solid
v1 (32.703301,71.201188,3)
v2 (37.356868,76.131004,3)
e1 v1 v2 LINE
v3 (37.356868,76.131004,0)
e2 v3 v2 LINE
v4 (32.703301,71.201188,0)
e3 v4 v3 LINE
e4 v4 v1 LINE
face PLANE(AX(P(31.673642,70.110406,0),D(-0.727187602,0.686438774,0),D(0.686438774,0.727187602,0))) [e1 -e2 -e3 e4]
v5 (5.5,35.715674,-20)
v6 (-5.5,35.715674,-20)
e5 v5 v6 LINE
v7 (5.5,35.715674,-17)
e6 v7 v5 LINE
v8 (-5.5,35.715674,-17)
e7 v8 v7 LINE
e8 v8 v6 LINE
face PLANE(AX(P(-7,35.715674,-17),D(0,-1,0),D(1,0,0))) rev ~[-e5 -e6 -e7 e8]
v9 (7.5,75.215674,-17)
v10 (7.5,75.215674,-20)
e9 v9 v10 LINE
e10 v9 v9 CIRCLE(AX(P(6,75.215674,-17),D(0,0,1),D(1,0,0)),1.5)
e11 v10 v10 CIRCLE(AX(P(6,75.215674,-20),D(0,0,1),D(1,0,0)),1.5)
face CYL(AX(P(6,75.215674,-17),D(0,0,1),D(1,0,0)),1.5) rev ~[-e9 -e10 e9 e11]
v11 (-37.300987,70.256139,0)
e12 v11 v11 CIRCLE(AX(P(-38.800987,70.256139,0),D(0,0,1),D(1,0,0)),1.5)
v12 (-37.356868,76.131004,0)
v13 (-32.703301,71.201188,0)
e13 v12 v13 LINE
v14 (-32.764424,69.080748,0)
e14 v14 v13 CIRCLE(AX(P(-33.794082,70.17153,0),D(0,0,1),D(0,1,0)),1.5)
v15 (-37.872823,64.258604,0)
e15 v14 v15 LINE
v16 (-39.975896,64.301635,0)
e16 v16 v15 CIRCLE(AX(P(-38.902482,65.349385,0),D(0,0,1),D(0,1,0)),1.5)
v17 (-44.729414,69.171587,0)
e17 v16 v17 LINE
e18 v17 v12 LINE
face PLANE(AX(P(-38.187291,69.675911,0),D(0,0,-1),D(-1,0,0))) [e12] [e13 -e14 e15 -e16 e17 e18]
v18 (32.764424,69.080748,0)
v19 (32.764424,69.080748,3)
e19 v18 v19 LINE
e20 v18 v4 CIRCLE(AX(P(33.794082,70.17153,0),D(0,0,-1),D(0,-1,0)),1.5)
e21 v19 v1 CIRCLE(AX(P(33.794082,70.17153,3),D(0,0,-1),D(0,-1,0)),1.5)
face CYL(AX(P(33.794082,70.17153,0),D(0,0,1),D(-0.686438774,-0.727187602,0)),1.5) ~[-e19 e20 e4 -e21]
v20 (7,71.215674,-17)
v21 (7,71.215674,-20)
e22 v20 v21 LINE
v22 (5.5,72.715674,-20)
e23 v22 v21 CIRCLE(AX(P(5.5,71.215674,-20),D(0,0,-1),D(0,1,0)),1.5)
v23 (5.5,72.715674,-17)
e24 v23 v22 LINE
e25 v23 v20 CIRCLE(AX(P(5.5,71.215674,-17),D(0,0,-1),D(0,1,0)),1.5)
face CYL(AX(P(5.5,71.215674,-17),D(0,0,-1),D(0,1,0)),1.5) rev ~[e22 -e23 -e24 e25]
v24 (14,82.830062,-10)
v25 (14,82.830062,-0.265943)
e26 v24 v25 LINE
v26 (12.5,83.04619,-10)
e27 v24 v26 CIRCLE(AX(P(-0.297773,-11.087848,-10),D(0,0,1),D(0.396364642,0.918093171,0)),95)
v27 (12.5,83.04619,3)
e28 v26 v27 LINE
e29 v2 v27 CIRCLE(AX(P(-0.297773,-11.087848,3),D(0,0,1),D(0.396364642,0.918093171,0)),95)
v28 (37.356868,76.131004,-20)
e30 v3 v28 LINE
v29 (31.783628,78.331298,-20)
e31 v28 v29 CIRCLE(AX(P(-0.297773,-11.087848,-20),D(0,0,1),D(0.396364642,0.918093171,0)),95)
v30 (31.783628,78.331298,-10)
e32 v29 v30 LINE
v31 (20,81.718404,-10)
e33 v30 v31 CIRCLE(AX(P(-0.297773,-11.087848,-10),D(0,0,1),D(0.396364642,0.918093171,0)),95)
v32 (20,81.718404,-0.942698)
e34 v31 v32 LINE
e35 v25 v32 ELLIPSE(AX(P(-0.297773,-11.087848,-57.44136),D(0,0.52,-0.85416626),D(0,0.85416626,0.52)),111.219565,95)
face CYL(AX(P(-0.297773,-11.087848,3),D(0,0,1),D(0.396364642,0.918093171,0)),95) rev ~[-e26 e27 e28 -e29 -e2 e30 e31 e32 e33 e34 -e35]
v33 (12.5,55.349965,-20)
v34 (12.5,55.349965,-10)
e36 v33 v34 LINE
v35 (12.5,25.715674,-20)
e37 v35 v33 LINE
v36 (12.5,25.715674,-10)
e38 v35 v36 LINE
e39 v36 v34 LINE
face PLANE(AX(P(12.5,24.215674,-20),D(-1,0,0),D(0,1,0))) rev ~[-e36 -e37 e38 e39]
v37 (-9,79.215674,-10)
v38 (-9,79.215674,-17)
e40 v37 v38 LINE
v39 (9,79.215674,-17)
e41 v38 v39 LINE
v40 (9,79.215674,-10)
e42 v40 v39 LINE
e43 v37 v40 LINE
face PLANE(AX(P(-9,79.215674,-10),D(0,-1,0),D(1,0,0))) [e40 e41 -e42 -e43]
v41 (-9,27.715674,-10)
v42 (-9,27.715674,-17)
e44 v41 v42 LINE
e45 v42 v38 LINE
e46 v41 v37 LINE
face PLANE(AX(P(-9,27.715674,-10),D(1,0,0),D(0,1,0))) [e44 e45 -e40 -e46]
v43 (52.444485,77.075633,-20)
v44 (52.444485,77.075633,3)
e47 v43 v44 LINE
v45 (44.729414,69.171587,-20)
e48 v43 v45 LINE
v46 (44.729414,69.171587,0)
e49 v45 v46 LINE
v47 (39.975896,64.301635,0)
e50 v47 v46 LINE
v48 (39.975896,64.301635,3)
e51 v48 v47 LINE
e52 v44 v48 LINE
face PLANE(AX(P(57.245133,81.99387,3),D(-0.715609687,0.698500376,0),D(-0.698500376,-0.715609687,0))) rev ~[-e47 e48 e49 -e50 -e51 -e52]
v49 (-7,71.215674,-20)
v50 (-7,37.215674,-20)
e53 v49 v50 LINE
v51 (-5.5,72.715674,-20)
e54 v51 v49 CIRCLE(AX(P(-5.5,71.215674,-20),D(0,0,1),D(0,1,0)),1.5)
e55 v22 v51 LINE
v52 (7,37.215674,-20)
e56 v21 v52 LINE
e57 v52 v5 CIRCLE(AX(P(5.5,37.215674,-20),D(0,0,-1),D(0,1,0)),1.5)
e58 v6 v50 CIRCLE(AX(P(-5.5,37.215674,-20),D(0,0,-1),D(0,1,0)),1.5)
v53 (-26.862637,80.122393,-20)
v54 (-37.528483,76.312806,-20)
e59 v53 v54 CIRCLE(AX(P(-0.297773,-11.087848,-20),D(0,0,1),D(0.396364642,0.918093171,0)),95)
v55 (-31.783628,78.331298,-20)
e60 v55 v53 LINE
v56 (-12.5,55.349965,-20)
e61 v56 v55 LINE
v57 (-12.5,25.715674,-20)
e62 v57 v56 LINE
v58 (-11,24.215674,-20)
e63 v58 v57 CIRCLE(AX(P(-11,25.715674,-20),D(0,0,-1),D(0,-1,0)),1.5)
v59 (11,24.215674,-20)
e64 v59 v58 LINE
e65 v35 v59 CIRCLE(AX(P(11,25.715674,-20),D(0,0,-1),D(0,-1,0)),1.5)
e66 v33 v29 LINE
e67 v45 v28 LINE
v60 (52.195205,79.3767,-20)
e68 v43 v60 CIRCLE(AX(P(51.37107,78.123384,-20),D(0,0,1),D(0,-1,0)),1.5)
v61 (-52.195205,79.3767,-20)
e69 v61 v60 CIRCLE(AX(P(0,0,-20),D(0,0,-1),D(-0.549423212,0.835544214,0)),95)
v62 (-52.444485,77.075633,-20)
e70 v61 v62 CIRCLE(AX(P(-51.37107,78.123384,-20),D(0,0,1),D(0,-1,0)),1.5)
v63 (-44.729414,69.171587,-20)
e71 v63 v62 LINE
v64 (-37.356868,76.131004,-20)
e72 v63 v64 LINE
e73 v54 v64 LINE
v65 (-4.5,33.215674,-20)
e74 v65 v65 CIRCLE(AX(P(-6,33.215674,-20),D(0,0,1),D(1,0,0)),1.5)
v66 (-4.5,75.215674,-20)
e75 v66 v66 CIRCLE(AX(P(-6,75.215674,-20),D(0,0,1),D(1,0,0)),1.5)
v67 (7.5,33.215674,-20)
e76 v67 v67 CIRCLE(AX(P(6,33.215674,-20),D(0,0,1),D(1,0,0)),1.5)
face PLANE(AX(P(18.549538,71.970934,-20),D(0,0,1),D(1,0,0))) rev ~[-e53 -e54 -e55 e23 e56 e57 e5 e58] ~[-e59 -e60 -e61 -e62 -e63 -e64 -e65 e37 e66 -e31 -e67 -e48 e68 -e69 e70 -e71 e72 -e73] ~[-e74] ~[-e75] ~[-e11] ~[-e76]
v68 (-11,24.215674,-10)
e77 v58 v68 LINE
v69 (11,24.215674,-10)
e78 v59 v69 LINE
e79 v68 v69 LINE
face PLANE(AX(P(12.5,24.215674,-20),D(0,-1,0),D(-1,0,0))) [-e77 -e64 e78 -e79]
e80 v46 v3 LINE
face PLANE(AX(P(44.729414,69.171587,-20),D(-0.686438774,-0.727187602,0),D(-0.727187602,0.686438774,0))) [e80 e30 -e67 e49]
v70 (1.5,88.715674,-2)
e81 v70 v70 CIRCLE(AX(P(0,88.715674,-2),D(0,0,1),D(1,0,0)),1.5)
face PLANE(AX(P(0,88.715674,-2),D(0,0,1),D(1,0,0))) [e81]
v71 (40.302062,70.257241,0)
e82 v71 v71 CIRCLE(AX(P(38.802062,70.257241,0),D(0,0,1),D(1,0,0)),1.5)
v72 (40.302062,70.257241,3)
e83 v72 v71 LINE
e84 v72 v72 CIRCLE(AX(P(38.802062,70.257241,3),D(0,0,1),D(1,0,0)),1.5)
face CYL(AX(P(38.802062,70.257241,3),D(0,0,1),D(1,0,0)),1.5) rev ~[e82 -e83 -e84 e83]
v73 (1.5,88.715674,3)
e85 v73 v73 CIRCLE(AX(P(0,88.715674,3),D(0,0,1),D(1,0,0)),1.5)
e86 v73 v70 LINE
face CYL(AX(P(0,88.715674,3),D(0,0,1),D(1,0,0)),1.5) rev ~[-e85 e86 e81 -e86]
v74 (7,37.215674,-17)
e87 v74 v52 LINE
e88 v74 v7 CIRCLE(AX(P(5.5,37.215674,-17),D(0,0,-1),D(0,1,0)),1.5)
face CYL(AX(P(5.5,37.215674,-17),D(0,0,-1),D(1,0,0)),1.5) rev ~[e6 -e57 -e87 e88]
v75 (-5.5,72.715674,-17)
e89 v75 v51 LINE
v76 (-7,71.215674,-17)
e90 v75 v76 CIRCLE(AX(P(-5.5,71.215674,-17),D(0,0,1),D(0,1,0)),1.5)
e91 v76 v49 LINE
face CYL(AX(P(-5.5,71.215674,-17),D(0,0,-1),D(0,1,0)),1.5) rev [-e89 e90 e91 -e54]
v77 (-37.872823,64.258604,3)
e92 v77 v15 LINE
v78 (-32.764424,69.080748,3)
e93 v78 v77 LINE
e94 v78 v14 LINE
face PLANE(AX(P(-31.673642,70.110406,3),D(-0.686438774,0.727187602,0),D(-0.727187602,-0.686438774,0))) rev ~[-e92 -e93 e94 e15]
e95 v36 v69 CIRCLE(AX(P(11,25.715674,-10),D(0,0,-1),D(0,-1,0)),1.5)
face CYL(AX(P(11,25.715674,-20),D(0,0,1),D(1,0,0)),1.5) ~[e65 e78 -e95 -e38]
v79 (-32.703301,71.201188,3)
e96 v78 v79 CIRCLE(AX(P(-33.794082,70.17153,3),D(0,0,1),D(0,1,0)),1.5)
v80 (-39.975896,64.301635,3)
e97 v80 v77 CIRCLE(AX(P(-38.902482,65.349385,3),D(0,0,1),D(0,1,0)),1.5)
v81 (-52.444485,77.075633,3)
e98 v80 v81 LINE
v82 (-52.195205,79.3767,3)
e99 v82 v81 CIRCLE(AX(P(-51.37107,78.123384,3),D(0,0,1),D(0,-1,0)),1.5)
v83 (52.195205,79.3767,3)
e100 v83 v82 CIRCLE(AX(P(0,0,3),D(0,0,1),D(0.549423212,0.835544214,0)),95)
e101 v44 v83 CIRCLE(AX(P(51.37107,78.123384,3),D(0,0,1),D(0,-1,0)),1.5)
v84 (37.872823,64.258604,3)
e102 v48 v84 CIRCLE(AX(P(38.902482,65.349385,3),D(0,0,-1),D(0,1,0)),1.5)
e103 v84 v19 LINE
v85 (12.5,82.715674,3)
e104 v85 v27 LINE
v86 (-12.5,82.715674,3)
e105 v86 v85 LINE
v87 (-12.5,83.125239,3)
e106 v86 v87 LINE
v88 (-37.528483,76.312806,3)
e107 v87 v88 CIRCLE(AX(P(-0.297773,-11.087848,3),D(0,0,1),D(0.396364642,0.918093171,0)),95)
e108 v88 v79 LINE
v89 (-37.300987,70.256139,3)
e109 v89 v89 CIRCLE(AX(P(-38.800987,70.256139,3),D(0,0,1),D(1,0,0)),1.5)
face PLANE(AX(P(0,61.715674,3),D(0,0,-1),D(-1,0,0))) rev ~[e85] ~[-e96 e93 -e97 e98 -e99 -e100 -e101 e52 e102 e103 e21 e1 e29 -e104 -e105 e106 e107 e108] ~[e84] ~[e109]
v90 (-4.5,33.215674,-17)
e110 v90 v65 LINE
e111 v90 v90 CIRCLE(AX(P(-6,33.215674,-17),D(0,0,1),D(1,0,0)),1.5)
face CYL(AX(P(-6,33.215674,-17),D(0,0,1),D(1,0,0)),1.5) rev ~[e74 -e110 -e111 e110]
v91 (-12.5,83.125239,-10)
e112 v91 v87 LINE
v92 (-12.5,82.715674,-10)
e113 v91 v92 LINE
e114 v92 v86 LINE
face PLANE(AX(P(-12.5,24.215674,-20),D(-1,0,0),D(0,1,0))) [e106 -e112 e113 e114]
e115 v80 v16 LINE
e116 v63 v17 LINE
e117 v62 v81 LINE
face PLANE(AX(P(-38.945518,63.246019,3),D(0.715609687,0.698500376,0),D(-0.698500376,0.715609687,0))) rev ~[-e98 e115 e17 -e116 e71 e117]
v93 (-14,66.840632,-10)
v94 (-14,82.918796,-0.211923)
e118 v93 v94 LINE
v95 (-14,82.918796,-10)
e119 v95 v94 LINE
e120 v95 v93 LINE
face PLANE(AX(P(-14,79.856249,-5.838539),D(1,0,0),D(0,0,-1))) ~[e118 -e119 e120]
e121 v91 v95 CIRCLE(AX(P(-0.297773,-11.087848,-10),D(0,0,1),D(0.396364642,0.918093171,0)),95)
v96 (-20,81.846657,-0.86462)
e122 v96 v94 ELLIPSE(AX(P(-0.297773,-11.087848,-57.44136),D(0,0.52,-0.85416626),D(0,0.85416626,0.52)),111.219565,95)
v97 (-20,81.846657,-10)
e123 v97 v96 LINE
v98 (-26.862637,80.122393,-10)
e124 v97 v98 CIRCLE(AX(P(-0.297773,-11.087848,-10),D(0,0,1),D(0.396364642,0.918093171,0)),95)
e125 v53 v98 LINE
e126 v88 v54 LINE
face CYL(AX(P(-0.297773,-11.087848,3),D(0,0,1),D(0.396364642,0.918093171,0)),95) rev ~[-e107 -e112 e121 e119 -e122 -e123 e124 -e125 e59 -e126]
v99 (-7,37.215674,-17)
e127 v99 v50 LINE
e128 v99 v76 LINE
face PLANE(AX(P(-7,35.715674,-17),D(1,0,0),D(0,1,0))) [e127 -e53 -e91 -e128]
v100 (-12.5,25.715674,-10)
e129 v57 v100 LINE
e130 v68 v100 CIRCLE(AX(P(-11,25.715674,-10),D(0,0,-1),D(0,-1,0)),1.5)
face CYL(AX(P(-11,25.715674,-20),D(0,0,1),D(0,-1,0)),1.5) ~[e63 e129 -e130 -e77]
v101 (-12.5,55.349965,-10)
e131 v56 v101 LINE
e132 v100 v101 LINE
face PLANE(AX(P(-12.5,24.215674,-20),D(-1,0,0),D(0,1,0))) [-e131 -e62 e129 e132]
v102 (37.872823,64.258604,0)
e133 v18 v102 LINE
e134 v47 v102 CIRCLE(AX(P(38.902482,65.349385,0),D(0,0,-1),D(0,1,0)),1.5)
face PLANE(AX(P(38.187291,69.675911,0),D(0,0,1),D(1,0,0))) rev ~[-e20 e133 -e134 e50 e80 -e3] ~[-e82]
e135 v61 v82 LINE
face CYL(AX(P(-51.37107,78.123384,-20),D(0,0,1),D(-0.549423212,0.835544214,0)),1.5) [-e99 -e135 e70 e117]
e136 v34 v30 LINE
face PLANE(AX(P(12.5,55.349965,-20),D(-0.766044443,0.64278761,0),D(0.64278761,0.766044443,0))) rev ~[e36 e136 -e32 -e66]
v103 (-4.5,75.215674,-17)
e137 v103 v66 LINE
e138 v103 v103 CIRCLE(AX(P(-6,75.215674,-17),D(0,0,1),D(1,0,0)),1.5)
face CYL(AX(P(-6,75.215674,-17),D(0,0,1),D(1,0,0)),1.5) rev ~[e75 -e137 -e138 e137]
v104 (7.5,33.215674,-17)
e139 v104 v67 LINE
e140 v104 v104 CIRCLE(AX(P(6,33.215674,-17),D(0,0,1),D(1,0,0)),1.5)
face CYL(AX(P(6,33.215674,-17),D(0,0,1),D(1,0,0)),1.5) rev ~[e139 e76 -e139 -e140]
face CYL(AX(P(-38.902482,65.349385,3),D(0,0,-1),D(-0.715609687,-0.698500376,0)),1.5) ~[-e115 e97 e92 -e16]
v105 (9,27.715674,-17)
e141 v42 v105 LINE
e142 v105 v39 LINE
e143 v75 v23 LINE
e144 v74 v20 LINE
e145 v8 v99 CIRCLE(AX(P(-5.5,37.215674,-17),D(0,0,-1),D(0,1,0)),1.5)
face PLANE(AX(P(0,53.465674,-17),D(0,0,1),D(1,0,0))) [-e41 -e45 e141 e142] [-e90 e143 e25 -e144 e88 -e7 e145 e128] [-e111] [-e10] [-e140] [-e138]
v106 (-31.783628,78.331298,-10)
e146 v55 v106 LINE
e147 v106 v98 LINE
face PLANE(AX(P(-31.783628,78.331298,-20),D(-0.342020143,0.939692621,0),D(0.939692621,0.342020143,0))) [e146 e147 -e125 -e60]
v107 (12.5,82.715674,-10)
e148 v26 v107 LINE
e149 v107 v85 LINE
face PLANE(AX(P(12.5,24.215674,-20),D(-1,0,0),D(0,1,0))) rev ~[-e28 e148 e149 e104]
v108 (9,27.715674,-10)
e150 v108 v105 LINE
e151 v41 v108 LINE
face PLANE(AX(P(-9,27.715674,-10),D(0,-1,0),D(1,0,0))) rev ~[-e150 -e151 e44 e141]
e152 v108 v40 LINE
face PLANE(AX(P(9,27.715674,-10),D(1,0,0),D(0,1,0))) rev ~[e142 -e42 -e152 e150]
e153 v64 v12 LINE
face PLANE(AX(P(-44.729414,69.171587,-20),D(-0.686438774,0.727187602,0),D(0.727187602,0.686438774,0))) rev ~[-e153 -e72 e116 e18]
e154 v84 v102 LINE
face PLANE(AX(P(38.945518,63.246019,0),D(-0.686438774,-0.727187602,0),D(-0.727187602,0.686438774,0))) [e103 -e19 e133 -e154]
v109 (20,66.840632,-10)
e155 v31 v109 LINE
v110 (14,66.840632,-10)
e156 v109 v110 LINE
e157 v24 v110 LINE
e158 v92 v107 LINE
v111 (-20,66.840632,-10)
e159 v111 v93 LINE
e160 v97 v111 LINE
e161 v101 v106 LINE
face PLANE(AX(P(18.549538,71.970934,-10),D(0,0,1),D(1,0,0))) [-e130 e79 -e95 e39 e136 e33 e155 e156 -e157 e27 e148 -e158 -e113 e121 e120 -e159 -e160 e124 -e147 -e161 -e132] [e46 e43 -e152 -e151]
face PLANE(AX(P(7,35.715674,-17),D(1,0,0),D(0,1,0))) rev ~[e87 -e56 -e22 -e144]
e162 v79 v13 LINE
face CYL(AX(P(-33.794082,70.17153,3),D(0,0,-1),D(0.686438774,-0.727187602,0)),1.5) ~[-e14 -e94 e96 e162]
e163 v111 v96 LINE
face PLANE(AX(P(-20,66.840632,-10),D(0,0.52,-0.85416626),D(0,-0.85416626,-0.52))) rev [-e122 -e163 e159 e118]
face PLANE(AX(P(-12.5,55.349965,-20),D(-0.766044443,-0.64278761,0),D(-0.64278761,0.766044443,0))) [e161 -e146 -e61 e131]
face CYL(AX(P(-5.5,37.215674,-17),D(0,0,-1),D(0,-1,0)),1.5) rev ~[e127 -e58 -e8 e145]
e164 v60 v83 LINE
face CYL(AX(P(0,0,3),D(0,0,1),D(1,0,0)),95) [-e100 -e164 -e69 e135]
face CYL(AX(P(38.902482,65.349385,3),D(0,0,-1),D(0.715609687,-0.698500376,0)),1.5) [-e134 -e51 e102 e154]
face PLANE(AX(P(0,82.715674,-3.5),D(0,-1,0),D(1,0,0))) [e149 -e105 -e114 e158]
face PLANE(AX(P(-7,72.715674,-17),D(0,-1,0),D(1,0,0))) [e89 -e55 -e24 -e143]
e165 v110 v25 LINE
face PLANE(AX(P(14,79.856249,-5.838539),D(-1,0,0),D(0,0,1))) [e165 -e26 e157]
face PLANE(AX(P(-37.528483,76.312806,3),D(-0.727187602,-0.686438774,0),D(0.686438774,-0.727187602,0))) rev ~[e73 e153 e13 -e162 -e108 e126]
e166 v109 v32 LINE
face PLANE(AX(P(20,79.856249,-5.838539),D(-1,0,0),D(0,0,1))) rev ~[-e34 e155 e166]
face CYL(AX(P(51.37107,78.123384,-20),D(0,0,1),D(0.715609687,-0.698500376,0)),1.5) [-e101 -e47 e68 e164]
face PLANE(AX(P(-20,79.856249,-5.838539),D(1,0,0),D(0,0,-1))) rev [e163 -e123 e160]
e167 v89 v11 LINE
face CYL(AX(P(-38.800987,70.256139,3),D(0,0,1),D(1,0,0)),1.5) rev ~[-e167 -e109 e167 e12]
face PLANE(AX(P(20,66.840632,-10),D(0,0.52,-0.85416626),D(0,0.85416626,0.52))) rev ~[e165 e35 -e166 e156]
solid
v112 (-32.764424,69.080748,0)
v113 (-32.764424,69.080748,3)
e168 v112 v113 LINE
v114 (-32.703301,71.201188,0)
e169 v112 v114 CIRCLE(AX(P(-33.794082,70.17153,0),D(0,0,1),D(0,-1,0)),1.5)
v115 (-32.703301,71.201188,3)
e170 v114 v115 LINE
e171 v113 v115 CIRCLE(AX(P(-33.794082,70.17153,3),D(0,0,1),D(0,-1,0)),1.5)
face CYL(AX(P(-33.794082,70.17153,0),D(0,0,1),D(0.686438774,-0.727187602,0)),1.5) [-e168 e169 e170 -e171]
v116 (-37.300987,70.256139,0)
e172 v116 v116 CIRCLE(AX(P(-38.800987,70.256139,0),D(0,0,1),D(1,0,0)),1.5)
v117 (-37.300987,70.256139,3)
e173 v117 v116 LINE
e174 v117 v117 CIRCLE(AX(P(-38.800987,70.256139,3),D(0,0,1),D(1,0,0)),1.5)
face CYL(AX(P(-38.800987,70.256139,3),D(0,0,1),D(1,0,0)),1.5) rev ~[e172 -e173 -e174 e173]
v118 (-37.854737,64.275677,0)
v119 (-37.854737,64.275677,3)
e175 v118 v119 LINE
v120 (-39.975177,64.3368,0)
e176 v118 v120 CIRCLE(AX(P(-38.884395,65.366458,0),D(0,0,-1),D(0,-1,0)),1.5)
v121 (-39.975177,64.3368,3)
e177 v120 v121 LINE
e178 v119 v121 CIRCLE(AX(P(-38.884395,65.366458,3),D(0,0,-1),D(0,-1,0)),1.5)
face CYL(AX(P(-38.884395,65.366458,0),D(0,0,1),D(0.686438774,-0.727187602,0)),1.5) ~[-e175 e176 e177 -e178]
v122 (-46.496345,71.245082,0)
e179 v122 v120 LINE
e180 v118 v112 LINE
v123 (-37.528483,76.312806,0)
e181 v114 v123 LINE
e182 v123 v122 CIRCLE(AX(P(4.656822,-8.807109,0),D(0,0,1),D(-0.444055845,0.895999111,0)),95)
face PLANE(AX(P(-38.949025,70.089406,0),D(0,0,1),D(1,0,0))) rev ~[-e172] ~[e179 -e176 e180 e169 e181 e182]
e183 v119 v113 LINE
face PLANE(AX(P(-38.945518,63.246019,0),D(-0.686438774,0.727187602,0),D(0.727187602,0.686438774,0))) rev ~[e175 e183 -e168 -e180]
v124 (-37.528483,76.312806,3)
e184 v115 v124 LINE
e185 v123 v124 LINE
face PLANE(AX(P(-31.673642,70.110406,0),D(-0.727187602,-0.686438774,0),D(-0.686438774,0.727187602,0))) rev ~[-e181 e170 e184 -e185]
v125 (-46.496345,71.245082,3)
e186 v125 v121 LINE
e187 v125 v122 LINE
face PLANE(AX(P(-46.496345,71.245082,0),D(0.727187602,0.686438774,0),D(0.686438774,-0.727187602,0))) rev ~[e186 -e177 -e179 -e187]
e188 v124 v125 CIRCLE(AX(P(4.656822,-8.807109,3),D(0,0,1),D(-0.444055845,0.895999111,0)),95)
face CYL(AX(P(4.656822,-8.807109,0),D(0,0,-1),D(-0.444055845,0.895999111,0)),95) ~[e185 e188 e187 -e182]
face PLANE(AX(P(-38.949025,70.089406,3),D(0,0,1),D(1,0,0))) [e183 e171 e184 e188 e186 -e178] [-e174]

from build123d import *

# Parameters (mm, degrees)
CROQUIS1_R              = 100
SALIENTE_EXTRUIR1_DEPTH = 3
CROQUIS3_R              = 110
CORTAR_EXTRUIR1_DEPTH   = 3
REDONDEO1_R             = 10
CORTAR_EXTRUIR6_DEPTH   = 10
CROQUIS12_R             = 1.5
CORTAR_EXTRUIR7_DEPTH   = 142.453172607
CROQUIS9_R              = 1.5
CROQUIS9_W              = 4.5
CROQUIS9_H              = 8
CROQUIS9_W_2            = 8
CROQUIS9_H_2            = 4.5
CORTAR_EXTRUIR5_DEPTH   = 10
CORTAR_EXTRUIR9_DEPTH   = 142.453172607
SALIENTE_EXTRUIR3_DEPTH = 3
SALIENTE_EXTRUIR4_DEPTH = 23
CROQUIS23_W             = 25
CROQUIS23_H             = 75
SALIENTE_EXTRUIR5_DEPTH = 23
CROQUIS24_W             = 25
CROQUIS24_H             = 13
CORTAR_EXTRUIR10_DEPTH  = 58.5
CORTAR_EXTRUIR11_DEPTH  = 20
CROQUIS27_W             = 18
CROQUIS27_H             = 51.5
CORTAR_EXTRUIR12_DEPTH  = 7
CROQUIS28_R             = 1.5
CROQUIS28_W             = 14
CROQUIS28_H             = 37
CORTAR_EXTRUIR13_DEPTH  = 7
CROQUIS30_R             = 1.5
CORTAR_EXTRUIR14_DEPTH  = 5
REDONDEO2_R             = 1.5
REDONDEO3_R             = 1.5
REDONDEO4_R             = 1.5
CROQUIS33_R             = 100
CROQUIS33_R_2           = 95
CORTAR_EXTRUIR15_DEPTH  = 118.101726702
REDONDEO5_R             = 1.5
SALIENTE_EXTRUIR6_DEPTH = 10
SALIENTE_EXTRUIR7_DEPTH = 6


with BuildPart() as part:
    # Croquis1 → Saliente-Extruir1 (new body)
    with BuildSketch(Plane.XY):
        Circle(CROQUIS1_R)
    extrude(amount=SALIENTE_EXTRUIR1_DEPTH)

    # Croquis3 → Cortar-Extruir1 (cut)
    with BuildSketch(Plane.XY.offset(3)):
        with Locations((190, 0)):
            Circle(CROQUIS3_R)
    extrude(amount=-CORTAR_EXTRUIR1_DEPTH, mode=Mode.SUBTRACT)

    # Redondeo1
    redondeo1_edges = [part.edges().sort_by_distance(p)[0] for p in [
        (89.473684211, -44.659375654, 1.5),
        (89.473684211, 44.659375654, 1.5),
    ]]
    fillet(redondeo1_edges, radius=REDONDEO1_R)

    # Croquis5 → Cortar-Extruir6 (cut)
    with BuildSketch(Plane.XY.offset(3)):
        Polygon((-58.336309448, -83.085046789), (-83.085046789, -58.336309448), (-65.40737726, -40.658639918), (-40.658639918, -65.40737726), align=None)
        Polygon((-83.085046789, 58.336309448), (-58.336309448, 83.085046789), (-40.658639918, 65.40737726), (-65.40737726, 40.658639918), align=None)
        Polygon((58.336309448, -83.085046789), (83.085046789, -58.336309448), (65.40737726, -40.658639918), (40.658639918, -65.40737726), align=None)
        Polygon((58.336309448, 83.085046789), (83.085046789, 58.336309448), (65.40737726, 40.658639918), (40.658639918, 65.40737726), align=None)
    extrude(amount=-CORTAR_EXTRUIR6_DEPTH, mode=Mode.SUBTRACT)

    # Croquis12 → Cortar-Extruir7 (cut, through all)
    with BuildSketch(Plane.XY.offset(3)):
        with Locations((-63.604254904, -36.804908024)):
            Circle(CROQUIS12_R)
        with Locations((-36.804907897, -63.604255031)):
            Circle(CROQUIS12_R)
        with Locations((-47.666068056, -20.866721176)):
            Circle(CROQUIS12_R)
        with Locations((-20.866721049, -47.666068183)):
            Circle(CROQUIS12_R)
        with Locations(Location((47.666068183, 20.866721049, 0), (0, 0, 180))):
            Circle(CROQUIS12_R)
        with Locations(Location((20.866721176, 47.666068056, 0), (0, 0, 180))):
            Circle(CROQUIS12_R)
        with Locations(Location((63.604255031, 36.804907897, 0), (0, 0, 180))):
            Circle(CROQUIS12_R)
        with Locations(Location((36.804908024, 63.604254904, 0), (0, 0, 180))):
            Circle(CROQUIS12_R)
        with Locations((20.866721325, -47.666067908)):
            Circle(CROQUIS12_R)
        with Locations((47.666068332, -20.866720901)):
            Circle(CROQUIS12_R)
        with Locations((63.60425518, -36.804907749)):
            Circle(CROQUIS12_R)
        with Locations((36.804908173, -63.604254756)):
            Circle(CROQUIS12_R)
        with Locations(Location((-63.604254756, 36.804908173, 0), (0, 0, 180))):
            Circle(CROQUIS12_R)
        with Locations(Location((-36.804907749, 63.60425518, 0), (0, 0, 180))):
            Circle(CROQUIS12_R)
        with Locations(Location((-20.866720901, 47.666068332, 0), (0, 0, 180))):
            Circle(CROQUIS12_R)
        with Locations(Location((-47.666067908, 20.866721325, 0), (0, 0, 180))):
            Circle(CROQUIS12_R)
    extrude(amount=-CORTAR_EXTRUIR7_DEPTH, mode=Mode.SUBTRACT)

    # Croquis9 → Cortar-Extruir5 (cut)
    with BuildSketch(Plane.XY.offset(3)):
        with Locations((71.9, -4)):
            Circle(CROQUIS9_R)
        with Locations((35.959143483, 4)):
            Circle(CROQUIS9_R)
        with Locations((71.959143483, 4)):
            Circle(CROQUIS9_R)
        with Locations((35.9, -4)):
            Circle(CROQUIS9_R)
        with Locations((-91.190074744, 4)):
            Circle(CROQUIS9_R)
        with Locations((-91.190074744, -4)):
            Circle(CROQUIS9_R)
        with Locations((-55.190074744, 4)):
            Circle(CROQUIS9_R)
        with Locations((-55.190074744, -4)):
            Circle(CROQUIS9_R)
        with Locations((-4, 85)):
            Circle(CROQUIS9_R)
        with Locations((4, 85)):
            Circle(CROQUIS9_R)
        with Locations((-4, 49)):
            Circle(CROQUIS9_R)
        with Locations((4, 49)):
            Circle(CROQUIS9_R)
        with Locations((-4, -49)):
            Circle(CROQUIS9_R)
        with Locations((4, -49)):
            Circle(CROQUIS9_R)
        with Locations((4, -85)):
            Circle(CROQUIS9_R)
        with Locations((-4, -85)):
            Circle(CROQUIS9_R)
        with Locations((41.209143483, 0)):
            Rectangle(CROQUIS9_W, CROQUIS9_H)
        with Locations((0, -54.25)):
            Rectangle(CROQUIS9_W_2, CROQUIS9_H_2)
        with Locations((-60.440074744, 0)):
            Rectangle(CROQUIS9_W, CROQUIS9_H)
        with Locations((0, 54.25)):
            Rectangle(CROQUIS9_W_2, CROQUIS9_H_2)
    extrude(amount=-CORTAR_EXTRUIR5_DEPTH, mode=Mode.SUBTRACT)

    # Croquis13 → Cortar-Extruir9 (cut, through all)
    with BuildSketch(Plane.XY.offset(3)):
        with BuildLine():
            Line((-46.496345001, 71.245082342), (-40.658639918, 65.40737726))
            Line((-40.658639918, 65.40737726), (-65.40737726, 40.658639918))
            Line((-65.40737726, 40.658639918), (-81.993870249, 57.245132907))
            ThreePointArc((-81.993870249, 57.245132907), (-100, 0), (-81.993870249, -57.245132907))
            Line((-81.993870249, -57.245132907), (-65.40737726, -40.658639918))
            Line((-65.40737726, -40.658639918), (-40.658639918, -65.40737726))
            Line((-40.658639918, -65.40737726), (-57.245132907, -81.993870249))
            ThreePointArc((-57.245132907, -81.993870249), (0, -100), (57.245132907, -81.993870249))
            Line((57.245132907, -81.993870249), (40.658639918, -65.40737726))
            Line((40.658639918, -65.40737726), (65.40737726, -40.658639918))
            Line((65.40737726, -40.658639918), (81.993870249, -57.245132907))
            ThreePointArc((81.993870249, -57.245132907), (90.456214357, -50.775094972), (87.719298246, -40.480341508))
            ThreePointArc((87.719298246, -40.480341508), (80, 0), (87.719298246, 40.480341508))
            ThreePointArc((87.719298246, 40.480341508), (93.238979947, 51.725451206), (81.993870249, 57.245132907))
            Line((81.993870249, 57.245132907), (65.40737726, 40.658639918))
            Line((65.40737726, 40.658639918), (40.658639918, 65.40737726))
            Line((40.658639918, 65.40737726), (46.282518229, 71.031255571))
            ThreePointArc((46.282518229, 71.031255571), (-0.075166467, 84.913072149), (-46.496345001, 71.245082342))
        make_face()
    extrude(amount=-CORTAR_EXTRUIR9_DEPTH, mode=Mode.SUBTRACT)

    # Croquis14 → Saliente-Extruir3 (add)
    with BuildSketch(Plane(origin=(0, 0, 0), x_dir=(-1, 0, 0), z_dir=(0, 0, -1))):
        with BuildLine():
            Line((38.945518482, 63.246018717), (31.673642459, 70.110406462))
            Line((31.673642459, 70.110406462), (37.528482874, 76.312805746))
            ThreePointArc((37.528482874, 76.312805746), (42.081150122, 73.900579851), (46.496345001, 71.245082342))
            Line((46.496345001, 71.245082342), (38.945518482, 63.246018717))
        make_face()
        with BuildLine():
            Line((-38.945518482, 63.246018717), (-31.673642459, 70.110406462))
            Line((-31.673642459, 70.110406462), (-37.528482874, 76.312805746))
            ThreePointArc((-37.528482874, 76.312805746), (-42.081150122, 73.900579851), (-46.496345001, 71.245082342))
            Line((-46.496345001, 71.245082342), (-38.945518482, 63.246018717))
        make_face()
    extrude(amount=-SALIENTE_EXTRUIR3_DEPTH)


with BuildPart() as saliente_extruir3_piece_1:
    # of the separate pieces the step leaves, piece 1, a body of its own (saliente_extruir3_pieces)
    add(part.part.solids().sort_by_distance((38.945518482, 63.246018717, 0))[0])

    # Croquis15 → Saliente-Extruir4 (add)
    with BuildSketch(Plane.XY.offset(3)):
        with BuildLine():
            Line((57.245132907, 81.993870249), (38.945518482, 63.246018717))
            Line((38.945518482, 63.246018717), (31.673642459, 70.110406462))
            Line((31.673642459, 70.110406462), (37.356868188, 76.131003556))
            ThreePointArc((37.356868188, 76.131003556), (-0.067138098, 83.911872334), (-37.528482874, 76.312805746))
            Line((-37.528482874, 76.312805746), (-31.673642459, 70.110406462))
            Line((-31.673642459, 70.110406462), (-38.945518482, 63.246018717))
            Line((-38.945518482, 63.246018717), (-57.245132907, 81.993870249))
            ThreePointArc((-57.245132907, 81.993870249), (0, 100), (57.245132907, 81.993870249))
        make_face()
    extrude(amount=-SALIENTE_EXTRUIR4_DEPTH)

    # Croquis26 → Cortar-Extruir11 (cut)
    with BuildSketch(Plane(origin=(0, 0, -20), x_dir=(-1, 0, 0), z_dir=(0, 0, -1))):
        Polygon((-37.356868188, 76.131003556), (-31.673642459, 70.110406462), (-38.945518482, 63.246018717), (-44.729414099, 69.171587081), align=None)
        Polygon((31.673642459, 70.110406462), (38.945518482, 63.246018717), (44.729414099, 69.171587081), (37.356868188, 76.131003556), align=None)
    extrude(amount=-CORTAR_EXTRUIR11_DEPTH, mode=Mode.SUBTRACT)


with BuildPart() as saliente_extruir3_piece_2:
    # of the separate pieces the step leaves, piece 2, a body of its own (saliente_extruir3_pieces)
    add(part.part.solids().sort_by_distance((-31.673642459, 70.110406462, 0))[0])


with BuildPart() as body_3:
    # Croquis23 → Saliente-Extruir5 (new, through all)
    with BuildSketch(Plane(origin=(0, 0, -20), x_dir=(-1, 0, 0), z_dir=(0, 0, -1))):
        with Locations((0, 61.715674165)):
            Rectangle(CROQUIS23_W, CROQUIS23_H)
    extrude(amount=-SALIENTE_EXTRUIR5_DEPTH)

    # Croquis24 → Cortar-Extruir10 (cut)
    with BuildSketch(Plane.XZ.offset(-24.215674165)):
        with Locations((0, -3.5)):
            Rectangle(CROQUIS24_W, CROQUIS24_H)
    extrude(amount=-CORTAR_EXTRUIR10_DEPTH, mode=Mode.SUBTRACT)

    # Croquis27 → Cortar-Extruir12 (cut)
    with BuildSketch(Plane.XY.offset(-10)):
        with Locations((0, 53.465674165)):
            Rectangle(CROQUIS27_W, CROQUIS27_H)
    extrude(amount=-CORTAR_EXTRUIR12_DEPTH, mode=Mode.SUBTRACT)

    # Croquis28 → Cortar-Extruir13 (cut)
    with BuildSketch(Plane.XY.offset(-17)):
        with Locations((-6, 75.215674165)):
            Circle(CROQUIS28_R)
        with Locations((6, 75.215674165)):
            Circle(CROQUIS28_R)
        with Locations((-6, 33.215674165)):
            Circle(CROQUIS28_R)
        with Locations((6, 33.215674165)):
            Circle(CROQUIS28_R)
        with Locations((0, 54.215674165)):
            Rectangle(CROQUIS28_W, CROQUIS28_H)
    extrude(amount=-CORTAR_EXTRUIR13_DEPTH, mode=Mode.SUBTRACT)


with BuildPart() as cortar_extruir14_tool:
    # Croquis30 → Cortar-Extruir14 (new body)
    with BuildSketch(Plane.XY.offset(3)):
        with Locations((-38.800986703, 70.256139004)):
            Circle(CROQUIS30_R)
        with Locations((38.802062302, 70.257240949)):
            Circle(CROQUIS30_R)
        with Locations((0, 88.715674165)):
            Circle(CROQUIS30_R)
    extrude(amount=-CORTAR_EXTRUIR14_DEPTH)


with BuildPart() as saliente_extruir3_piece_1_1:
    add(saliente_extruir3_piece_1.part)

    # Cortar-Extruir14: cut by cortar_extruir14_tool
    add(cortar_extruir14_tool.part, mode=Mode.SUBTRACT)

    # Redondeo3
    redondeo3_edges = [saliente_extruir3_piece_1_1.edges().sort_by_distance(p)[0] for p in [
        (38.945518482, 63.246018717, 1.5),
        (31.673642459, 70.110406462, 1.5),
        (-57.245132907, 81.993870249, -8.5),
        (-38.945518482, 63.246018717, 1.5),
        (-31.673642459, 70.110406462, 1.5),
        (57.245132907, 81.993870249, -8.5),
    ]]
    fillet(redondeo3_edges, radius=REDONDEO3_R)


with BuildPart() as saliente_extruir3_piece_2_1:
    add(saliente_extruir3_piece_2.part)

    # Cortar-Extruir14: cut by cortar_extruir14_tool
    add(cortar_extruir14_tool.part, mode=Mode.SUBTRACT)

    # Redondeo4
    redondeo4_edges = [saliente_extruir3_piece_2_1.edges().sort_by_distance(p)[0] for p in [
        (-38.945518482, 63.246018717, 1.5),
        (-31.673642459, 70.110406462, 1.5),
    ]]
    fillet(redondeo4_edges, radius=REDONDEO4_R)


with BuildPart() as body_3_1:
    add(body_3.part)

    # Cortar-Extruir14: cut by cortar_extruir14_tool
    add(cortar_extruir14_tool.part, mode=Mode.SUBTRACT)

    # Redondeo2
    redondeo2_edges = [body_3_1.edges().sort_by_distance(p)[0] for p in [
        (12.5, 24.215674165, -15),
        (-12.5, 24.215674165, -15),
        (-7, 35.715674165, -18.5),
        (-7, 72.715674165, -18.5),
        (7, 72.715674165, -18.5),
        (7, 35.715674165, -18.5),
    ]]
    fillet(redondeo2_edges, radius=REDONDEO2_R)


with BuildPart() as cortar_extruir15_tool:
    # Croquis33 → Cortar-Extruir15 (new, through all)
    with BuildSketch(Plane.XY.offset(3)):
        Circle(CROQUIS33_R)
        Circle(CROQUIS33_R_2, mode=Mode.SUBTRACT)
    extrude(amount=-CORTAR_EXTRUIR15_DEPTH)


with BuildPart() as saliente_extruir3_piece_1_2:
    add(saliente_extruir3_piece_1_1.part)

    # Cortar-Extruir15: cut by cortar_extruir15_tool
    add(cortar_extruir15_tool.part, mode=Mode.SUBTRACT)

    # Redondeo5
    redondeo5_edges = [saliente_extruir3_piece_1_2.edges().sort_by_distance(p)[0] for p in [
        (53.702695744, 78.3646634, -8.5),
        (-53.702695744, 78.3646634, -8.5),
    ]]
    fillet(redondeo5_edges, radius=REDONDEO5_R)



with BuildPart() as body_3_2:
    add(body_3_1.part)

    # Cortar-Extruir15: cut by cortar_extruir15_tool
    add(cortar_extruir15_tool.part, mode=Mode.SUBTRACT)


with BuildPart() as saliente_extruir3_piece_1_3:
    add(saliente_extruir3_piece_1_2.part)

    add(body_3_2.part)  # Saliente-Extruir6 merges body 3
    # Croquis36 → Saliente-Extruir6 (add)
    with BuildSketch(Plane(origin=(0, 0, -20), x_dir=(-1, 0, 0), z_dir=(0, 0, -1))):
        Polygon((-12.5, 55.3499652), (-31.783628291, 78.331298493), (-12.5, 85.3499652), align=None)
        Polygon((12.5, 55.3499652), (31.783628291, 78.331298493), (12.5, 85.3499652), align=None)
    extrude(amount=-SALIENTE_EXTRUIR6_DEPTH)

    # Croquis37 → Saliente-Extruir7 (add)
    with BuildSketch(Plane(origin=(20, 0, 0), x_dir=(0, 0, -1), z_dir=(1, 0, 0))):
        Polygon((10, 66.840631847), (-3, 88.194788351), (10, 88.194788351), align=None)
    saliente_extruir7 = extrude(amount=-SALIENTE_EXTRUIR7_DEPTH)

    # Simetría1: Saliente-Extruir7 across plane
    add(saliente_extruir7.mirror(Plane(origin=(0, 0, 0), x_dir=(0, 0, 1), z_dir=(1, 0, 0))))


solid = Compound([saliente_extruir3_piece_2_1.part, saliente_extruir3_piece_1_3.part])
